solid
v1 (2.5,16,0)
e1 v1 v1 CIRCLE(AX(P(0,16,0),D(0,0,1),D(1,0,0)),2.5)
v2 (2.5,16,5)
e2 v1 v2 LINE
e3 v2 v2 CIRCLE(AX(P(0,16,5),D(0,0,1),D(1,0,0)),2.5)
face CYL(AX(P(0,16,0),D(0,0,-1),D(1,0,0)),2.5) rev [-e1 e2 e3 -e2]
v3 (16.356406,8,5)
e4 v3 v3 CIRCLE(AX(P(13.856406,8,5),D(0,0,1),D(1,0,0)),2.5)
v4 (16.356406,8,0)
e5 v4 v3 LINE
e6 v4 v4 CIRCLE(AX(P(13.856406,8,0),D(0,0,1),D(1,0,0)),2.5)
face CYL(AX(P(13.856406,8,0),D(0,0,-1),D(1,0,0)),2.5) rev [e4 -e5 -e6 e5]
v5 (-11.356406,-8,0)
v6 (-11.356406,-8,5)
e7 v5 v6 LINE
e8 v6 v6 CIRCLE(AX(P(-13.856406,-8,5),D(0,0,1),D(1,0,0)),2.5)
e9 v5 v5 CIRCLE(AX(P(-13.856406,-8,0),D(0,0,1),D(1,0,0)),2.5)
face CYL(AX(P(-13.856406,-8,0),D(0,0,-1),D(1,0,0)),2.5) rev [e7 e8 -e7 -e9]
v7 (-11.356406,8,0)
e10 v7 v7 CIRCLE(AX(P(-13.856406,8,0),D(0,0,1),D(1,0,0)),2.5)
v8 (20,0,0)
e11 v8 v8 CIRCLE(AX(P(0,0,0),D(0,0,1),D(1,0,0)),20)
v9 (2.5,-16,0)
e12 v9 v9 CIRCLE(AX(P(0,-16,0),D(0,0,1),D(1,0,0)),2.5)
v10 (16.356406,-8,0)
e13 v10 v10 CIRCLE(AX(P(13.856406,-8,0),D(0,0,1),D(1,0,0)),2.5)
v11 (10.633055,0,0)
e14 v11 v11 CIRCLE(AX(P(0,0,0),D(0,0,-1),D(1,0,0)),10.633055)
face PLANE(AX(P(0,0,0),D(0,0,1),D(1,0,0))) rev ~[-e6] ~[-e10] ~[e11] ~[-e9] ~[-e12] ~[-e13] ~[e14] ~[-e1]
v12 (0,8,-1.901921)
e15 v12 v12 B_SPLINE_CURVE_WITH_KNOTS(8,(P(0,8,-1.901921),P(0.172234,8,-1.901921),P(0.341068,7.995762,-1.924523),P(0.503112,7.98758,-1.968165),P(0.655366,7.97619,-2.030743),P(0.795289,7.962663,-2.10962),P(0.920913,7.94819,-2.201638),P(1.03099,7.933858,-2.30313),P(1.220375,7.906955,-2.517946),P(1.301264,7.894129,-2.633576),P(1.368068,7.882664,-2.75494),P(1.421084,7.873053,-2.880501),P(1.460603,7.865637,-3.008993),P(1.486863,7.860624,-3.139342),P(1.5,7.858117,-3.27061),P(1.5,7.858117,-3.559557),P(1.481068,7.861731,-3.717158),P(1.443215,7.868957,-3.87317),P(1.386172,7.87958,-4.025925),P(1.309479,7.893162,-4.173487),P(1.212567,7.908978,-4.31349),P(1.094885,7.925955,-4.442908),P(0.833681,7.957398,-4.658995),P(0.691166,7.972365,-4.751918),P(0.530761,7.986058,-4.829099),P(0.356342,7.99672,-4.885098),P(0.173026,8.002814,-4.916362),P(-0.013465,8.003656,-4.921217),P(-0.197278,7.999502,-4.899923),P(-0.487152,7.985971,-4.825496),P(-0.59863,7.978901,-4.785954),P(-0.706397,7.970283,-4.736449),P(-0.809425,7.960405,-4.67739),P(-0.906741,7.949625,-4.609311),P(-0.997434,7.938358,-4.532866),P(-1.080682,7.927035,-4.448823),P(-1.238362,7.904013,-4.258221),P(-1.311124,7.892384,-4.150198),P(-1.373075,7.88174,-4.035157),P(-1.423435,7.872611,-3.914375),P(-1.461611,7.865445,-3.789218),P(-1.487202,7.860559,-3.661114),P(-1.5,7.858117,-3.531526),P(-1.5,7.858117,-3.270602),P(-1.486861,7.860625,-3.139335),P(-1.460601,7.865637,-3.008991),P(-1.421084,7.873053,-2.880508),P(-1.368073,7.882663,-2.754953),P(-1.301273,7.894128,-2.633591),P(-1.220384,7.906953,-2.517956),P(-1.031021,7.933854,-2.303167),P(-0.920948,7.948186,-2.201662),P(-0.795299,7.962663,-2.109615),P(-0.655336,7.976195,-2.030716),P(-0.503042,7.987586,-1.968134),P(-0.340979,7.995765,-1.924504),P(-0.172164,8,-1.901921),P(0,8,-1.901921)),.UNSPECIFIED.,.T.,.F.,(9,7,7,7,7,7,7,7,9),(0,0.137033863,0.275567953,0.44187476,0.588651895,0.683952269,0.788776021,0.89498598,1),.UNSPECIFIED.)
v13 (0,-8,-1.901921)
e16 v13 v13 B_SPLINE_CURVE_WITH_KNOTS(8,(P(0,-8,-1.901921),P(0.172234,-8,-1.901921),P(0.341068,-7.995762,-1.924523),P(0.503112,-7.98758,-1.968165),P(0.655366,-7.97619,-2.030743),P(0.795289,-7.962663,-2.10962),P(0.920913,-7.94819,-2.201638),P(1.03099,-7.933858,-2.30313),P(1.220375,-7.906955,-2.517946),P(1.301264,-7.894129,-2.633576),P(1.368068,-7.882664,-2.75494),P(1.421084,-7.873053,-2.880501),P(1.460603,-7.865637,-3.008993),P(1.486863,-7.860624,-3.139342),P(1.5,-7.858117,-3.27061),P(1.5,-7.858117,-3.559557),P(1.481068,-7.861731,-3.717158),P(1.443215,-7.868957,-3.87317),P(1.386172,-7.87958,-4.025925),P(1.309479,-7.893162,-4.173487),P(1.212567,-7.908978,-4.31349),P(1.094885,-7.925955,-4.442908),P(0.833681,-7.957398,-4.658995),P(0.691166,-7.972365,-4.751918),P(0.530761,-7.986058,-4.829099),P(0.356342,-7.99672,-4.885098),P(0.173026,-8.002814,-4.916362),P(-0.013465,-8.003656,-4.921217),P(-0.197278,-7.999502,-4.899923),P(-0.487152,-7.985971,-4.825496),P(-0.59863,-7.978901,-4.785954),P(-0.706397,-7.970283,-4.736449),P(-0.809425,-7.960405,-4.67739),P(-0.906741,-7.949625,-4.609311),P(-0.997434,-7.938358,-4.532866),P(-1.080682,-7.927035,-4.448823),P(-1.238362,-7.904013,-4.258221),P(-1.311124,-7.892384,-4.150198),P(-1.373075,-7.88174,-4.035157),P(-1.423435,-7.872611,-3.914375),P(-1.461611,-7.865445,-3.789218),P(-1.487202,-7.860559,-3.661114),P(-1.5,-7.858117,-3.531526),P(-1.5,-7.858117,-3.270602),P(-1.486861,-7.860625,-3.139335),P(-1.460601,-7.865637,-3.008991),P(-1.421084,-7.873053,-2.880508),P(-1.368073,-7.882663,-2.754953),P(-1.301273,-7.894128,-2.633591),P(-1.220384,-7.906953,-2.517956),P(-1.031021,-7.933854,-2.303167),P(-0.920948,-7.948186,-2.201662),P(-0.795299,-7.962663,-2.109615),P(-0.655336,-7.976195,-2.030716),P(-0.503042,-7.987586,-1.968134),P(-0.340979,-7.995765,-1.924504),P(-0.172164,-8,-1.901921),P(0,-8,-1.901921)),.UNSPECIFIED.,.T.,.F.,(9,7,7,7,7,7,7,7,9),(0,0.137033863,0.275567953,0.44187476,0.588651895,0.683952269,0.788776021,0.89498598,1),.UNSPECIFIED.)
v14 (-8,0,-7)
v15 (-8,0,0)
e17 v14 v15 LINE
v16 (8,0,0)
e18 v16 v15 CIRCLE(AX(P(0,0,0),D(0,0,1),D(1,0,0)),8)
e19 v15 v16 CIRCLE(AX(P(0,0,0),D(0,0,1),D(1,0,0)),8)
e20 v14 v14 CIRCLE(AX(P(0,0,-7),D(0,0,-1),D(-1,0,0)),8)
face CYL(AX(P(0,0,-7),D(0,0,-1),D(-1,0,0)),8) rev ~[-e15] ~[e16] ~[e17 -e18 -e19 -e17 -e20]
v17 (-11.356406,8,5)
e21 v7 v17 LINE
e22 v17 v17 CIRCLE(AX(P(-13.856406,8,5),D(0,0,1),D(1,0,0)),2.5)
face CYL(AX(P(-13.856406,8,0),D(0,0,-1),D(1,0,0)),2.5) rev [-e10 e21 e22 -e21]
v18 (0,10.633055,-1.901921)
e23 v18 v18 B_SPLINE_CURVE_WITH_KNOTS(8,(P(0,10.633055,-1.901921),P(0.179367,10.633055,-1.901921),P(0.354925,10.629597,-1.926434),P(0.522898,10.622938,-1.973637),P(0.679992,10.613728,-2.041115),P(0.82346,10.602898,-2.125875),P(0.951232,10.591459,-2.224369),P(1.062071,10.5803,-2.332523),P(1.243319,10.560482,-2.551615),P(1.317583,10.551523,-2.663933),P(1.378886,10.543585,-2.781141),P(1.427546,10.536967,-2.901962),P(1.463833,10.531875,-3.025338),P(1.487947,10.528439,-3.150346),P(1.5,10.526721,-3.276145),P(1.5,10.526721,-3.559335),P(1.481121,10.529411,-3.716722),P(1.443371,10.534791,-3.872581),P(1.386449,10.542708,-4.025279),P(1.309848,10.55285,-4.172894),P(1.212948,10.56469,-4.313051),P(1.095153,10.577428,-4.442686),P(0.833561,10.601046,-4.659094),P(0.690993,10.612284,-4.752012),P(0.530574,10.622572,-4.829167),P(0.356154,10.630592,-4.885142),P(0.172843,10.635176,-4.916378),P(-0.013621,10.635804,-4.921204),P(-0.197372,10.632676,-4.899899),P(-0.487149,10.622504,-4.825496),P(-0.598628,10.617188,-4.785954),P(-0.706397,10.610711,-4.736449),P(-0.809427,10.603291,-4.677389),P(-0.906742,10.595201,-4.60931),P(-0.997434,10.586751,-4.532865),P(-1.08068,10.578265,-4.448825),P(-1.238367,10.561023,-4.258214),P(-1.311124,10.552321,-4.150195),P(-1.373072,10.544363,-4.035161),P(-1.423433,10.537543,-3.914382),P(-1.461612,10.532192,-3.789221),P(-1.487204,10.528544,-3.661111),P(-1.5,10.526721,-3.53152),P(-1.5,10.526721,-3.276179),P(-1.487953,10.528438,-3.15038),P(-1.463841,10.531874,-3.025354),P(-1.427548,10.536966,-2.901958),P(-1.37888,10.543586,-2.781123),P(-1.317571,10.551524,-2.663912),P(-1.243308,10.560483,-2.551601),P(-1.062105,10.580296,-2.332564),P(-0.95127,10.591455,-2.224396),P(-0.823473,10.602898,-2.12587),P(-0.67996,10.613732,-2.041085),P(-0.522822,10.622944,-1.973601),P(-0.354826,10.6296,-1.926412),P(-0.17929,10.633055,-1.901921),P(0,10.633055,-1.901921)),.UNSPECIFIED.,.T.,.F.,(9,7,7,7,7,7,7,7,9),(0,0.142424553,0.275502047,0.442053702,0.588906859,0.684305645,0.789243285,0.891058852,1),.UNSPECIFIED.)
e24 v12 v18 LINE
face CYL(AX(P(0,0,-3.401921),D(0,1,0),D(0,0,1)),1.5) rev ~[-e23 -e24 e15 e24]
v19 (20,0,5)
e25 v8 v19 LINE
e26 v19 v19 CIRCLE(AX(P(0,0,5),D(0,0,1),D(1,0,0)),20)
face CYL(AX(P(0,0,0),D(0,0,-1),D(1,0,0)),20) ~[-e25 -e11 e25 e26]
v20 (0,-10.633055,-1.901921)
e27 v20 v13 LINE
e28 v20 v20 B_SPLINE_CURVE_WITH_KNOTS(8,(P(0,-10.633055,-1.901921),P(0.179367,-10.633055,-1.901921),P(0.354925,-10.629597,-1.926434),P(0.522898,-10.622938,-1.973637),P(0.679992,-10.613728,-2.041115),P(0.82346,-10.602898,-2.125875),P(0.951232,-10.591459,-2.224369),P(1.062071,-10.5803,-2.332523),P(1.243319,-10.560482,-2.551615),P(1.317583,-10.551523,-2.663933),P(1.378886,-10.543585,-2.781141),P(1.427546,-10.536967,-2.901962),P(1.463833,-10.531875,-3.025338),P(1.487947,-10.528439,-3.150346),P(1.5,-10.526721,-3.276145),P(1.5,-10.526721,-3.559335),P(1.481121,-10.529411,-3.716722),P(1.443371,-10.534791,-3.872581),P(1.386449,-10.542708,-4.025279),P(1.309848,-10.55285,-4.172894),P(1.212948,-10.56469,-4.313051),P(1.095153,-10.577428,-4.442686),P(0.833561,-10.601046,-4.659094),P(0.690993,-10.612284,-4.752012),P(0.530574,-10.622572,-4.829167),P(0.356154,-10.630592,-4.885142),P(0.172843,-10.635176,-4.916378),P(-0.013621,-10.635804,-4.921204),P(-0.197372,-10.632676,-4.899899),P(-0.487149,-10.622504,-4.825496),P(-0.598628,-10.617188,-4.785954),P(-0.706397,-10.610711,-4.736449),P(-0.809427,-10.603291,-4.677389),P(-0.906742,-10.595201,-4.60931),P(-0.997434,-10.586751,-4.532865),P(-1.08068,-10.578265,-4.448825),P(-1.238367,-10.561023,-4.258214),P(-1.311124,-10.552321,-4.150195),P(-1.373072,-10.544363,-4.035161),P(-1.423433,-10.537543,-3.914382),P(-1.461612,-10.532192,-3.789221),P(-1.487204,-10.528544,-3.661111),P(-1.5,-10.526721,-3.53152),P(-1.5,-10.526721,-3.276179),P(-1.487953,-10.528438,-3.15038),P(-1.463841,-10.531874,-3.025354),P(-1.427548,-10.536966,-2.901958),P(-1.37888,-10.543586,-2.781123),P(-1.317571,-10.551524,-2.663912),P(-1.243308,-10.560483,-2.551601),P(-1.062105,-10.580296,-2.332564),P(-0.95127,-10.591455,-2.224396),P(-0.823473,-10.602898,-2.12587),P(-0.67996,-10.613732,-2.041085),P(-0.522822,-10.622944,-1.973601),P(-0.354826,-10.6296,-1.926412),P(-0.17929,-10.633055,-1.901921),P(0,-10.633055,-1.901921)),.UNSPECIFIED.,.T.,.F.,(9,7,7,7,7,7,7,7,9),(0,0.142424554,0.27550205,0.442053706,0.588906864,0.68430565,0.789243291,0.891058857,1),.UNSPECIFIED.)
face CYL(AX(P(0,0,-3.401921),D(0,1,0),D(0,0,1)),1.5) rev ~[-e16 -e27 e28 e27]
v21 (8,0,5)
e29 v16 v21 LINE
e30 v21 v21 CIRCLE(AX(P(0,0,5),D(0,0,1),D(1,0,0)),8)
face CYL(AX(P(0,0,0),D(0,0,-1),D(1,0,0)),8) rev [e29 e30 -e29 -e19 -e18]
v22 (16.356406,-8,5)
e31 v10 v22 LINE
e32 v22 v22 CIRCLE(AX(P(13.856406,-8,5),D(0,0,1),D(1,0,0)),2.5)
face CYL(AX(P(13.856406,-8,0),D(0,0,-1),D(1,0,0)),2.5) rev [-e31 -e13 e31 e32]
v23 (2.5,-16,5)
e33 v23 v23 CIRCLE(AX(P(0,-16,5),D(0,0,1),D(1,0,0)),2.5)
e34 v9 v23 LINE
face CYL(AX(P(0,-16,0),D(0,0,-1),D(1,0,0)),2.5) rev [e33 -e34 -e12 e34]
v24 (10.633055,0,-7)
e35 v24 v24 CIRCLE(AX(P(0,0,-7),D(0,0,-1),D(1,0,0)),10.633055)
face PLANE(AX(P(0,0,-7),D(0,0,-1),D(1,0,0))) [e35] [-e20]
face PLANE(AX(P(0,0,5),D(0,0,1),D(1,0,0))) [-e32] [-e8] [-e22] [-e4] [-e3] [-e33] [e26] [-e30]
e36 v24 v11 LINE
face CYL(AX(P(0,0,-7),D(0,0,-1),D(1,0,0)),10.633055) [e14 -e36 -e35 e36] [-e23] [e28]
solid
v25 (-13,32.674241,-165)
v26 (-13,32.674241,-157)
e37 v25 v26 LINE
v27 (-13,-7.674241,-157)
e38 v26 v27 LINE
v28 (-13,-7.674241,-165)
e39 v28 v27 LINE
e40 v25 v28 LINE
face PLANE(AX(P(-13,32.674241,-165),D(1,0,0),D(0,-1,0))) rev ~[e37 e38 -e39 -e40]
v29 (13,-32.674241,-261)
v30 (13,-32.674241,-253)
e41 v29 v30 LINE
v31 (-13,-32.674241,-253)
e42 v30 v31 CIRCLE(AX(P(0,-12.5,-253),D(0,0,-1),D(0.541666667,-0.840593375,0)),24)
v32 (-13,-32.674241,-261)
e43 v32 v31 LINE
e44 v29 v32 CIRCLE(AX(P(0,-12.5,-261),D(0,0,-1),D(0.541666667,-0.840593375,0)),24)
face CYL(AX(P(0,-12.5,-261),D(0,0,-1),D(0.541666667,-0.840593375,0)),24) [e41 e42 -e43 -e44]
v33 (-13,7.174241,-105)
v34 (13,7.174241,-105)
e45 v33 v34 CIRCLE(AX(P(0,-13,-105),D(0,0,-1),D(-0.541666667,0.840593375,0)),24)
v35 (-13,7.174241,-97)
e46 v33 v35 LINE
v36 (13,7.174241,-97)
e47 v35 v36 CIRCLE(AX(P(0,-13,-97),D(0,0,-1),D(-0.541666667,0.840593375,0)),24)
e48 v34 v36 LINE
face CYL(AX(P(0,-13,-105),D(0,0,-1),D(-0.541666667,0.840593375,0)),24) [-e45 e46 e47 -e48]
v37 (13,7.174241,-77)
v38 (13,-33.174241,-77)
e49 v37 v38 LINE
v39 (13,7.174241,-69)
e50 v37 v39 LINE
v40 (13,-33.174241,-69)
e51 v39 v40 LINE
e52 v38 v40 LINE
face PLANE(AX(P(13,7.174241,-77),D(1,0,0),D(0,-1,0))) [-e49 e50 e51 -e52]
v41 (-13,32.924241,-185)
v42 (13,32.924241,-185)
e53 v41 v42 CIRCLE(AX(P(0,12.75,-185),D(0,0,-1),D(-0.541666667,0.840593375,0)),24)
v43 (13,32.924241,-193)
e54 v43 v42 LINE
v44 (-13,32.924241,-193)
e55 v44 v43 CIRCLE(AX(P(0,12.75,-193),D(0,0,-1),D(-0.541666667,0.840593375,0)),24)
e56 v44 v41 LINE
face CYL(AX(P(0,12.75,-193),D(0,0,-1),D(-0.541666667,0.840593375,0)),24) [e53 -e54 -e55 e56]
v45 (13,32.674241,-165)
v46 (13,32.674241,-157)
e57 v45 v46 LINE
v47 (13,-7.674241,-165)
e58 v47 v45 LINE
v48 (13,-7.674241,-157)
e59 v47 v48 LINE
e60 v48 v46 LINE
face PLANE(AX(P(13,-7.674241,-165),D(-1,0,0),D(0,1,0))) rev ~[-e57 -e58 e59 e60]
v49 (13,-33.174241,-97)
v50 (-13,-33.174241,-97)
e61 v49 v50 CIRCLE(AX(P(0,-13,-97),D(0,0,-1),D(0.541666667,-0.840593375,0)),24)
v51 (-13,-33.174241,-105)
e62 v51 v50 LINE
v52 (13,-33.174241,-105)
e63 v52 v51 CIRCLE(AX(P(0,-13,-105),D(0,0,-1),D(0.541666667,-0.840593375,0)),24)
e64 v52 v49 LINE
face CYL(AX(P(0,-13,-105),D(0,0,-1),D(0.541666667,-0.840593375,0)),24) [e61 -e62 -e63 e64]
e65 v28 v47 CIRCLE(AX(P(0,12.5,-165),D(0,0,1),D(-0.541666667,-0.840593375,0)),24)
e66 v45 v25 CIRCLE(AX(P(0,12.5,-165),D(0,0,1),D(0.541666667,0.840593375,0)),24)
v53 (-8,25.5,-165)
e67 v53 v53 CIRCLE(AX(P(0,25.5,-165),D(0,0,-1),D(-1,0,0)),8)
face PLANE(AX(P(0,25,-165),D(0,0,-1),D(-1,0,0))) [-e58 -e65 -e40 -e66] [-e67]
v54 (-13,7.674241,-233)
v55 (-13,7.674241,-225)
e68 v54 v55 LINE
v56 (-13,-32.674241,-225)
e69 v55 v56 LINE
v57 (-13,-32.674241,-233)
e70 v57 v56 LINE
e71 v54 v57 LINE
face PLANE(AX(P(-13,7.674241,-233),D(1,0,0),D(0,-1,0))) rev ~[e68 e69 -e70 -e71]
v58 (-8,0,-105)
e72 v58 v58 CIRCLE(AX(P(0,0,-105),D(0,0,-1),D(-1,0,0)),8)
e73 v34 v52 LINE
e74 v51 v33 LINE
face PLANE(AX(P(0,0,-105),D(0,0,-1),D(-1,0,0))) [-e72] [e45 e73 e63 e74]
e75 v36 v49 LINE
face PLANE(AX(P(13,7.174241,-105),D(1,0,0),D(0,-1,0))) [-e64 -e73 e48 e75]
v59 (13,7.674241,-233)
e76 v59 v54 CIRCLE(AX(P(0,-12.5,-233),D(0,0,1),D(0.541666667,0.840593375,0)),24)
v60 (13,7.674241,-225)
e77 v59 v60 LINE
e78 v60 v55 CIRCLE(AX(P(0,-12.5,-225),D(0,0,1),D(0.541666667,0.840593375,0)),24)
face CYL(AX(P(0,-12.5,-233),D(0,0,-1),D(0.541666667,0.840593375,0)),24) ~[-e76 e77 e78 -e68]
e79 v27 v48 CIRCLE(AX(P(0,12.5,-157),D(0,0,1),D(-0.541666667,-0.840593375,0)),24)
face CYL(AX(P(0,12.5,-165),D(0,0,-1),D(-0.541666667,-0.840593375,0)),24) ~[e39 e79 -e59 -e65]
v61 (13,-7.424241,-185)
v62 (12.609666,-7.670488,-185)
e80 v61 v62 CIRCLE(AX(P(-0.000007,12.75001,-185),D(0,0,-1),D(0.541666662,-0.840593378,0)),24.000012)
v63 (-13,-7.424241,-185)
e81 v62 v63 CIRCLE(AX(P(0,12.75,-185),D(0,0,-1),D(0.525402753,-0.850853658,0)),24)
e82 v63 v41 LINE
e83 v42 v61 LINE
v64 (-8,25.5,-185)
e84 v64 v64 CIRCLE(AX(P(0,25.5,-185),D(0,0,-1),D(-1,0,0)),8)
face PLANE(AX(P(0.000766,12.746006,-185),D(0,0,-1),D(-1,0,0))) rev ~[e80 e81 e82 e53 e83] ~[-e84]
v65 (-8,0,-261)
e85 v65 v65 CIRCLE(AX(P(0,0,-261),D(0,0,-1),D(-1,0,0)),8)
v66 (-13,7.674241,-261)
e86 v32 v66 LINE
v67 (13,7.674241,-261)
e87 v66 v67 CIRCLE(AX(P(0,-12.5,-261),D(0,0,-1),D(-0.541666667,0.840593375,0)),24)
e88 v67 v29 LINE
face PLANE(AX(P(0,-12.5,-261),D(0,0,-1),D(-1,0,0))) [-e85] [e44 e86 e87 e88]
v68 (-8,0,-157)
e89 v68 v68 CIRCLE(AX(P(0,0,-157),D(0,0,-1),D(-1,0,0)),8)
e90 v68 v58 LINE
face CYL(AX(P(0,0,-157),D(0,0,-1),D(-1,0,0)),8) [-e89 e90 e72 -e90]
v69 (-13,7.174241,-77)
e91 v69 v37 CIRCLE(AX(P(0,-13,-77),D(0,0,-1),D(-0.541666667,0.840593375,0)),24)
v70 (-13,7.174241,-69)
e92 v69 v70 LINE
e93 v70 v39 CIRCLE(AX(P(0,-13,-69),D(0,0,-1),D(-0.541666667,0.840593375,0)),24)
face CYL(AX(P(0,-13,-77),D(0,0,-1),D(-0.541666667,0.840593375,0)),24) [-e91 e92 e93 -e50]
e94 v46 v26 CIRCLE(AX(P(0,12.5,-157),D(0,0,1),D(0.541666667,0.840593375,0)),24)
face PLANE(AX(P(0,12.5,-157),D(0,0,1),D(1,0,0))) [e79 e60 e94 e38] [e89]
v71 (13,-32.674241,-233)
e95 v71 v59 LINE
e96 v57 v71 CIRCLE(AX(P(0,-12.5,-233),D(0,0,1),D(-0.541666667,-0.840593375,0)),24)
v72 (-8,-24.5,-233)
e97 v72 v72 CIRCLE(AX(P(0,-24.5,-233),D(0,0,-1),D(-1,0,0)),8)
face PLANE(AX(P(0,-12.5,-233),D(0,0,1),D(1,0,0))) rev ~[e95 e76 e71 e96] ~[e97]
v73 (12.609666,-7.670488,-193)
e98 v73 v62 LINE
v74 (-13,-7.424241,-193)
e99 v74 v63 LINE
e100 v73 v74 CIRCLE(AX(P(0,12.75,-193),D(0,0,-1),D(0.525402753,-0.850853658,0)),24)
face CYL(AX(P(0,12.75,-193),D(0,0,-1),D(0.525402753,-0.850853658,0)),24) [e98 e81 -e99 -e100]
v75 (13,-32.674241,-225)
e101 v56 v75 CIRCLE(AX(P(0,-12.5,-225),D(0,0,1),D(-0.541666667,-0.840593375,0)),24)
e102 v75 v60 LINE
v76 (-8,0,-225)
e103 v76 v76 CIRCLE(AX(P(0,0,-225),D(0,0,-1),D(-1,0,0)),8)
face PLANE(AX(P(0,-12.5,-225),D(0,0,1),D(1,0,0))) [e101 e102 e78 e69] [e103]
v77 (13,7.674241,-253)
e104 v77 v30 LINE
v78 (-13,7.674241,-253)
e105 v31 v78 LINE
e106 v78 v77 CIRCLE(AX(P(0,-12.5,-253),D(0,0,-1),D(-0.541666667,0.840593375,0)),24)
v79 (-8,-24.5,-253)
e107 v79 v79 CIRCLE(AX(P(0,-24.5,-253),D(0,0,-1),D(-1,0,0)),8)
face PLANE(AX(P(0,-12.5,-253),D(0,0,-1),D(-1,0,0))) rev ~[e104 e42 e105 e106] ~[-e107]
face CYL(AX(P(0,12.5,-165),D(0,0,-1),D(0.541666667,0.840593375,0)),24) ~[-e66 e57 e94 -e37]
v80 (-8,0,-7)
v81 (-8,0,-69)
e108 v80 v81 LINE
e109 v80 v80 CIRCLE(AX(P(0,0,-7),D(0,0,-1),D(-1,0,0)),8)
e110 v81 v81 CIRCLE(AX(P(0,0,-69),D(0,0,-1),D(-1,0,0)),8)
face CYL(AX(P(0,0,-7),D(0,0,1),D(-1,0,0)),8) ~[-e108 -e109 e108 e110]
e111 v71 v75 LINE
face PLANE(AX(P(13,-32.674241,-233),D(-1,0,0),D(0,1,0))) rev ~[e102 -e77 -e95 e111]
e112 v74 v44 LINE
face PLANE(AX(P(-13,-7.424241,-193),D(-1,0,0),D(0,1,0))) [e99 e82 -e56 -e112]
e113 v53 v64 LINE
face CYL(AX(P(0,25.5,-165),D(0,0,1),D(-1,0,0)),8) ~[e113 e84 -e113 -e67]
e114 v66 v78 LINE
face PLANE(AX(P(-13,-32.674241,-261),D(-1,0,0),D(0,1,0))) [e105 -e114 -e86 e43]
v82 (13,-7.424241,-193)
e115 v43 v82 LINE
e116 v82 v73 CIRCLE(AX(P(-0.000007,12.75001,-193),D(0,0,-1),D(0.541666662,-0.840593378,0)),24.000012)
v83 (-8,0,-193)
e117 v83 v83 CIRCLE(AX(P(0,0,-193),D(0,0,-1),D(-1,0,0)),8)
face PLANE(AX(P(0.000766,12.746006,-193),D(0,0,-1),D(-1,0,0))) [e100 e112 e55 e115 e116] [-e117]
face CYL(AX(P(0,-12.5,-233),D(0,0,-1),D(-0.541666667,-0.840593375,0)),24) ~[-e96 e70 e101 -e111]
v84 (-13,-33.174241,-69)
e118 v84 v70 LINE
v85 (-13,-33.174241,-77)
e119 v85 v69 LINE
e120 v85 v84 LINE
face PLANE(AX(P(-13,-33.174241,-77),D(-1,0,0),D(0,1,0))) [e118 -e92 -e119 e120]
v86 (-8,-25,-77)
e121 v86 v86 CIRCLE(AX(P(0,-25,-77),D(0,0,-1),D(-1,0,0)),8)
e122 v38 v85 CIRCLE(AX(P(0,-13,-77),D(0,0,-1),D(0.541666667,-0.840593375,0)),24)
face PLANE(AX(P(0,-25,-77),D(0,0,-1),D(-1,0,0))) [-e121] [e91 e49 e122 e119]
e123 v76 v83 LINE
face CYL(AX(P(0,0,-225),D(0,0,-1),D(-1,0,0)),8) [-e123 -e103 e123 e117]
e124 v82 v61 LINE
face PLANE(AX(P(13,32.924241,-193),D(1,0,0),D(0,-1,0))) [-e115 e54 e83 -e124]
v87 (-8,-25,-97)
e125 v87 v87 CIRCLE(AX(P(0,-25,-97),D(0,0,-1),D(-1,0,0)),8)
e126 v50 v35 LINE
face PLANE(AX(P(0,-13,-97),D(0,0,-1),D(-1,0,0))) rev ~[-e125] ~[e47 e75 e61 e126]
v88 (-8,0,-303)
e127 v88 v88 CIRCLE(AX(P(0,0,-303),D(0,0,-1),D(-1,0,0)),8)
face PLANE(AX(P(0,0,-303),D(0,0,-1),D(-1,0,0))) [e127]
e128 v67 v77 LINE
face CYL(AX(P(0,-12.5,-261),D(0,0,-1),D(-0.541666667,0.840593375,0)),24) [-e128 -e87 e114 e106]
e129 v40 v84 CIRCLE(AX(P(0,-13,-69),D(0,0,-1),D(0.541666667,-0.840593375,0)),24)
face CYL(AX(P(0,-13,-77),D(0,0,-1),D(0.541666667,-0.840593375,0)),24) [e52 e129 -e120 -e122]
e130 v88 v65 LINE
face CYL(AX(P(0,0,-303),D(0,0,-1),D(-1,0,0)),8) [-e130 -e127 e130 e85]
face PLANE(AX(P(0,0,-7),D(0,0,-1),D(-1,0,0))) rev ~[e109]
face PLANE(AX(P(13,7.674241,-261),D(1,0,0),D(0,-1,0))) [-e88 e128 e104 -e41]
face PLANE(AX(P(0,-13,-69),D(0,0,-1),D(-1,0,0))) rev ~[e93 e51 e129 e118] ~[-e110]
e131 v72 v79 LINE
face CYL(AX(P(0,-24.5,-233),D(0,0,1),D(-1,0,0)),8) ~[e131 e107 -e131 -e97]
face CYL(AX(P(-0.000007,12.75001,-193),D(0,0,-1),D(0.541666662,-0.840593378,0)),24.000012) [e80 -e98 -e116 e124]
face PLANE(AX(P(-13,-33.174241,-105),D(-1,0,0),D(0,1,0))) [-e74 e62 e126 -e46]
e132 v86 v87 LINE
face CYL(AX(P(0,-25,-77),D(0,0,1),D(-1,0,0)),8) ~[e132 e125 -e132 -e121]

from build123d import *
from build123d.topology import SkipClean

# Parameters (mm, degrees)
SKETCH1_R            = 20
SKETCH1_R_2          = 2.5
SKETCH1_R_3          = 8
BOSS_EXTRUDE1_DEPTH  = 5
BOSS_EXTRUDE2_START  = 7
SKETCH2_R            = 10.633054962
SKETCH2_R_2          = 8
BOSS_EXTRUDE2_DEPTH  = 7
SKETCH3_R            = 8
BOSS_EXTRUDE3_DEPTH  = 62
SKETCH4_R            = 6
BOSS_EXTRUDE4_DEPTH  = 8
SKETCH5_R            = 1.5
CUT_EXTRUDE2_DEPTH   = 12.5
SKETCH6_R            = 6
BOSS_EXTRUDE6_DEPTH  = 8
SKETCH8_R            = 6
BOSS_EXTRUDE8_DEPTH  = 8
SKETCH9_R            = 8
BOSS_EXTRUDE9_DEPTH  = 20
SKETCH10_R           = 6
BOSS_EXTRUDE10_DEPTH = 8
SKETCH11_R           = 6
BOSS_EXTRUDE12_DEPTH = 8
SKETCH12_R           = 6
BOSS_EXTRUDE13_DEPTH = 8
BOSS_EXTRUDE14_START = 52
SKETCH13_R           = 8
BOSS_EXTRUDE14_DEPTH = 52
SKETCH14_R           = 6
BOSS_EXTRUDE15_DEPTH = 8
SKETCH15_R           = 6
BOSS_EXTRUDE17_DEPTH = 8
SKETCH16_R           = 6
BOSS_EXTRUDE18_DEPTH = 8
SKETCH17_R           = 8
BOSS_EXTRUDE23_DEPTH = 20
SKETCH21_R           = 6
BOSS_EXTRUDE24_DEPTH = 8
SKETCH22_R           = 6
BOSS_EXTRUDE26_DEPTH = 8
BOSS_EXTRUDE27_START = 32
SKETCH24_R           = 8
BOSS_EXTRUDE27_DEPTH = 32
SKETCH25_R           = 6
BOSS_EXTRUDE28_DEPTH = 8
SKETCH26_R           = 6
BOSS_EXTRUDE31_DEPTH = 8
SKETCH27_R           = 8
BOSS_EXTRUDE32_DEPTH = 20
SKETCH28_R           = 6
BOSS_EXTRUDE33_DEPTH = 8
SKETCH29_R           = 6
BOSS_EXTRUDE34_DEPTH = 8
BOSS_EXTRUDE35_START = 42
SKETCH30_R           = 8
BOSS_EXTRUDE35_DEPTH = 42


with BuildPart() as part:
    # Sketch1 → Boss-Extrude1 (new body)
    with BuildSketch(Plane.XY):
        Circle(SKETCH1_R)
        with Locations((0, 16)):
            Circle(SKETCH1_R_2, mode=Mode.SUBTRACT)
        with Locations((13.856406461, 8)):
            Circle(SKETCH1_R_2, mode=Mode.SUBTRACT)
        with Locations((13.856406461, -8)):
            Circle(SKETCH1_R_2, mode=Mode.SUBTRACT)
        with Locations((0, -16)):
            Circle(SKETCH1_R_2, mode=Mode.SUBTRACT)
        with Locations((-13.856406461, -8)):
            Circle(SKETCH1_R_2, mode=Mode.SUBTRACT)
        with Locations((-13.856406461, 8)):
            Circle(SKETCH1_R_2, mode=Mode.SUBTRACT)
        Circle(SKETCH1_R_3, mode=Mode.SUBTRACT)
    extrude(amount=BOSS_EXTRUDE1_DEPTH)

    # Sketch2 → Boss-Extrude2 (add)
    with SkipClean():  # the faces are left unmerged after this step: merging them gives an invalid solid
        with BuildSketch(Plane(origin=(0, 0, 0), x_dir=(-1, 0, 0), z_dir=(0, 0, -1)).offset(BOSS_EXTRUDE2_START)):
            with Locations(Location((0, 0, 0), (0, 0, 180))):
                Circle(SKETCH2_R)
            Circle(SKETCH2_R_2, mode=Mode.SUBTRACT)
        extrude(amount=-BOSS_EXTRUDE2_DEPTH)

    # Sketch5 → Cut-Extrude2 (cut, symmetric)
    with SkipClean():  # the faces are left unmerged after this step: merging them gives an invalid solid
        with BuildSketch(Plane(origin=(0, 0, 0), x_dir=(1, 0, 0), z_dir=(0, 1, 0))):
            with Locations(Location((0, 3.40192122, 0), (0, 0, 270))):
                Circle(SKETCH5_R)
        extrude(amount=CUT_EXTRUDE2_DEPTH, both=True, mode=Mode.SUBTRACT)


with BuildPart() as body_2:
    # Sketch3 → Boss-Extrude3 (new body)
    with BuildSketch(Plane(origin=(0, 0, -7), x_dir=(-1, 0, 0), z_dir=(0, 0, -1))):
        Circle(SKETCH3_R)
    extrude(amount=BOSS_EXTRUDE3_DEPTH)

    # Sketch4 → Boss-Extrude4 (add)
    with BuildSketch(Plane(origin=(0, 0, -69), x_dir=(-1, 0, 0), z_dir=(0, 0, -1))):
        Circle(SKETCH4_R)
    extrude(amount=BOSS_EXTRUDE4_DEPTH)

    # Sketch6 → Boss-Extrude6 (add)
    with BuildSketch(Plane(origin=(0, 0, -77), x_dir=(-1, 0, 0), z_dir=(0, 0, -1))):
        with BuildLine():
            Line((13, -25), (13, 7.174241002))
            ThreePointArc((13, 7.174241002), (0, 11), (-13, 7.174241002))
            Line((-13, 7.174241002), (-13, -25))
            Line((-13, -25), (-13, -33.174241002))
            ThreePointArc((-13, -33.174241002), (0, -37), (13, -33.174241002))
            Line((13, -33.174241002), (13, -25))
        make_face()
        Circle(SKETCH6_R, mode=Mode.SUBTRACT)
        with Locations((0, -25)):
            Circle(SKETCH6_R, mode=Mode.SUBTRACT)
    extrude(amount=-BOSS_EXTRUDE6_DEPTH)

    # Sketch8 → Boss-Extrude8 (add)
    with BuildSketch(Plane(origin=(0, 0, -77), x_dir=(-1, 0, 0), z_dir=(0, 0, -1))):
        with Locations((0, -25)):
            Circle(SKETCH8_R)
    extrude(amount=-BOSS_EXTRUDE8_DEPTH)

    # Sketch9 → Boss-Extrude9 (add)
    with BuildSketch(Plane(origin=(0, 0, -77), x_dir=(-1, 0, 0), z_dir=(0, 0, -1))):
        with Locations((0, -25)):
            Circle(SKETCH9_R)
    extrude(amount=BOSS_EXTRUDE9_DEPTH)

    # Sketch10 → Boss-Extrude10 (add)
    with BuildSketch(Plane(origin=(0, 0, -97), x_dir=(-1, 0, 0), z_dir=(0, 0, -1))):
        with Locations((0, -25)):
            Circle(SKETCH10_R)
    extrude(amount=BOSS_EXTRUDE10_DEPTH)

    # Sketch11 → Boss-Extrude12 (add)
    with BuildSketch(Plane(origin=(0, 0, -105), x_dir=(-1, 0, 0), z_dir=(0, 0, -1))):
        with BuildLine():
            Line((-13, 7.174241002), (-13, -33.174241002))
            ThreePointArc((-13, -33.174241002), (0, -37), (13, -33.174241002))
            Line((13, -33.174241002), (13, 7.174241002))
            ThreePointArc((13, 7.174241002), (0, 11), (-13, 7.174241002))
        make_face()
        with Locations((0, -25)):
            Circle(SKETCH11_R, mode=Mode.SUBTRACT)
        Circle(SKETCH11_R, mode=Mode.SUBTRACT)
    extrude(amount=-BOSS_EXTRUDE12_DEPTH)

    # Sketch12 → Boss-Extrude13 (add)
    with BuildSketch(Plane(origin=(0, 0, -105), x_dir=(-1, 0, 0), z_dir=(0, 0, -1))):
        Circle(SKETCH12_R)
    extrude(amount=-BOSS_EXTRUDE13_DEPTH)

    # Sketch13 → Boss-Extrude14 (add)
    with BuildSketch(Plane(origin=(0, 0, -105), x_dir=(-1, 0, 0), z_dir=(0, 0, -1)).offset(BOSS_EXTRUDE14_START)):
        Circle(SKETCH13_R)
    extrude(amount=-BOSS_EXTRUDE14_DEPTH)

    # Sketch14 → Boss-Extrude15 (add)
    with BuildSketch(Plane(origin=(0, 0, -157), x_dir=(-1, 0, 0), z_dir=(0, 0, -1))):
        Circle(SKETCH14_R)
    extrude(amount=BOSS_EXTRUDE15_DEPTH)

    # Sketch15 → Boss-Extrude17 (add)
    with BuildSketch(Plane(origin=(0, 0, -165), x_dir=(-1, 0, 0), z_dir=(0, 0, -1))):
        with BuildLine():
            Line((13, 32.674241002), (13, -7.674241002))
            ThreePointArc((13, -7.674241002), (0, -11.5), (-13, -7.674241002))
            Line((-13, -7.674241002), (-13, 32.674241002))
            ThreePointArc((-13, 32.674241002), (0, 36.5), (13, 32.674241002))
        make_face()
        Circle(SKETCH15_R, mode=Mode.SUBTRACT)
        with Locations((0, 25)):
            Circle(SKETCH15_R, mode=Mode.SUBTRACT)
    extrude(amount=-BOSS_EXTRUDE17_DEPTH)

    # Sketch16 → Boss-Extrude18 (add)
    with BuildSketch(Plane(origin=(0, 0, -165), x_dir=(-1, 0, 0), z_dir=(0, 0, -1))):
        with Locations((0, 25)):
            Circle(SKETCH16_R)
    extrude(amount=-BOSS_EXTRUDE18_DEPTH)

    # Sketch17 → Boss-Extrude23 (add)
    with BuildSketch(Plane(origin=(0, 0, -165), x_dir=(-1, 0, 0), z_dir=(0, 0, -1))):
        with Locations((0, 25.5)):
            Circle(SKETCH17_R)
    extrude(amount=BOSS_EXTRUDE23_DEPTH)

    # Sketch21 → Boss-Extrude24 (add)
    with BuildSketch(Plane(origin=(0, 0, -185), x_dir=(-1, 0, 0), z_dir=(0, 0, -1))):
        with Locations((0, 25.5)):
            Circle(SKETCH21_R)
    extrude(amount=BOSS_EXTRUDE24_DEPTH)

    # Sketch22 → Boss-Extrude26 (add)
    with BuildSketch(Plane(origin=(0, 0, -193), x_dir=(-1, 0, 0), z_dir=(0, 0, -1))):
        with BuildLine():
            ThreePointArc((13, 32.924241002), (0, 36.75), (-13, 32.924241002))
            Line((-13, 32.924241002), (-13, -7.424241002))
            ThreePointArc((-13, -7.424241002), (-12.80542496, -7.548302677), (-12.609666069, -7.670487791))
            ThreePointArc((-12.609666069, -7.670487791), (0.230758564, -11.248890609), (13, -7.424241002))
            Line((13, -7.424241002), (13, 32.674241002))
            Line((13, 32.674241002), (13, 32.924241002))
        make_face()
        with Locations((0, 25.5)):
            Circle(SKETCH22_R, mode=Mode.SUBTRACT)
    extrude(amount=-BOSS_EXTRUDE26_DEPTH)

    # Sketch24 → Boss-Extrude27 (add)
    with BuildSketch(Plane(origin=(0, 0, -193), x_dir=(-1, 0, 0), z_dir=(0, 0, -1)).offset(BOSS_EXTRUDE27_START)):
        Circle(SKETCH24_R)
    extrude(amount=-BOSS_EXTRUDE27_DEPTH)

    # Sketch25 → Boss-Extrude28 (add)
    with BuildSketch(Plane(origin=(0, 0, -225), x_dir=(-1, 0, 0), z_dir=(0, 0, -1))):
        Circle(SKETCH25_R)
    extrude(amount=BOSS_EXTRUDE28_DEPTH)

    # Sketch26 → Boss-Extrude31 (add)
    with BuildSketch(Plane(origin=(0, 0, -233), x_dir=(-1, 0, 0), z_dir=(0, 0, -1))):
        with BuildLine():
            Line((13, 7.674241002), (13, -32.674241002))
            ThreePointArc((13, -32.674241002), (0, -36.5), (-13, -32.674241002))
            Line((-13, -32.674241002), (-13, 7.674241002))
            ThreePointArc((-13, 7.674241002), (0, 11.5), (13, 7.674241002))
        make_face()
        Circle(SKETCH26_R, mode=Mode.SUBTRACT)
    extrude(amount=-BOSS_EXTRUDE31_DEPTH)

    # Sketch27 → Boss-Extrude32 (add)
    with BuildSketch(Plane(origin=(0, 0, -233), x_dir=(-1, 0, 0), z_dir=(0, 0, -1))):
        with Locations((0, -24.5)):
            Circle(SKETCH27_R)
    extrude(amount=BOSS_EXTRUDE32_DEPTH)

    # Sketch28 → Boss-Extrude33 (add)
    with BuildSketch(Plane(origin=(0, 0, -253), x_dir=(-1, 0, 0), z_dir=(0, 0, -1))):
        with Locations((0, -24.5)):
            Circle(SKETCH28_R)
    extrude(amount=BOSS_EXTRUDE33_DEPTH)

    # Sketch29 → Boss-Extrude34 (add)
    with BuildSketch(Plane(origin=(0, 0, -261), x_dir=(-1, 0, 0), z_dir=(0, 0, -1))):
        with BuildLine():
            Line((-13, 7.674241002), (-13, -32.674241002))
            ThreePointArc((-13, -32.674241002), (0, -36.5), (13, -32.674241002))
            Line((13, -32.674241002), (13, 7.674241002))
            ThreePointArc((13, 7.674241002), (0, 11.5), (-13, 7.674241002))
        make_face()
        with Locations((0, -24.5)):
            Circle(SKETCH29_R, mode=Mode.SUBTRACT)
    extrude(amount=-BOSS_EXTRUDE34_DEPTH)

    # Sketch30 → Boss-Extrude35 (add)
    with BuildSketch(Plane(origin=(0, 0, -261), x_dir=(-1, 0, 0), z_dir=(0, 0, -1)).offset(BOSS_EXTRUDE35_START)):
        Circle(SKETCH30_R)
    extrude(amount=-BOSS_EXTRUDE35_DEPTH)


solid = Compound([part.part, body_2.part])
